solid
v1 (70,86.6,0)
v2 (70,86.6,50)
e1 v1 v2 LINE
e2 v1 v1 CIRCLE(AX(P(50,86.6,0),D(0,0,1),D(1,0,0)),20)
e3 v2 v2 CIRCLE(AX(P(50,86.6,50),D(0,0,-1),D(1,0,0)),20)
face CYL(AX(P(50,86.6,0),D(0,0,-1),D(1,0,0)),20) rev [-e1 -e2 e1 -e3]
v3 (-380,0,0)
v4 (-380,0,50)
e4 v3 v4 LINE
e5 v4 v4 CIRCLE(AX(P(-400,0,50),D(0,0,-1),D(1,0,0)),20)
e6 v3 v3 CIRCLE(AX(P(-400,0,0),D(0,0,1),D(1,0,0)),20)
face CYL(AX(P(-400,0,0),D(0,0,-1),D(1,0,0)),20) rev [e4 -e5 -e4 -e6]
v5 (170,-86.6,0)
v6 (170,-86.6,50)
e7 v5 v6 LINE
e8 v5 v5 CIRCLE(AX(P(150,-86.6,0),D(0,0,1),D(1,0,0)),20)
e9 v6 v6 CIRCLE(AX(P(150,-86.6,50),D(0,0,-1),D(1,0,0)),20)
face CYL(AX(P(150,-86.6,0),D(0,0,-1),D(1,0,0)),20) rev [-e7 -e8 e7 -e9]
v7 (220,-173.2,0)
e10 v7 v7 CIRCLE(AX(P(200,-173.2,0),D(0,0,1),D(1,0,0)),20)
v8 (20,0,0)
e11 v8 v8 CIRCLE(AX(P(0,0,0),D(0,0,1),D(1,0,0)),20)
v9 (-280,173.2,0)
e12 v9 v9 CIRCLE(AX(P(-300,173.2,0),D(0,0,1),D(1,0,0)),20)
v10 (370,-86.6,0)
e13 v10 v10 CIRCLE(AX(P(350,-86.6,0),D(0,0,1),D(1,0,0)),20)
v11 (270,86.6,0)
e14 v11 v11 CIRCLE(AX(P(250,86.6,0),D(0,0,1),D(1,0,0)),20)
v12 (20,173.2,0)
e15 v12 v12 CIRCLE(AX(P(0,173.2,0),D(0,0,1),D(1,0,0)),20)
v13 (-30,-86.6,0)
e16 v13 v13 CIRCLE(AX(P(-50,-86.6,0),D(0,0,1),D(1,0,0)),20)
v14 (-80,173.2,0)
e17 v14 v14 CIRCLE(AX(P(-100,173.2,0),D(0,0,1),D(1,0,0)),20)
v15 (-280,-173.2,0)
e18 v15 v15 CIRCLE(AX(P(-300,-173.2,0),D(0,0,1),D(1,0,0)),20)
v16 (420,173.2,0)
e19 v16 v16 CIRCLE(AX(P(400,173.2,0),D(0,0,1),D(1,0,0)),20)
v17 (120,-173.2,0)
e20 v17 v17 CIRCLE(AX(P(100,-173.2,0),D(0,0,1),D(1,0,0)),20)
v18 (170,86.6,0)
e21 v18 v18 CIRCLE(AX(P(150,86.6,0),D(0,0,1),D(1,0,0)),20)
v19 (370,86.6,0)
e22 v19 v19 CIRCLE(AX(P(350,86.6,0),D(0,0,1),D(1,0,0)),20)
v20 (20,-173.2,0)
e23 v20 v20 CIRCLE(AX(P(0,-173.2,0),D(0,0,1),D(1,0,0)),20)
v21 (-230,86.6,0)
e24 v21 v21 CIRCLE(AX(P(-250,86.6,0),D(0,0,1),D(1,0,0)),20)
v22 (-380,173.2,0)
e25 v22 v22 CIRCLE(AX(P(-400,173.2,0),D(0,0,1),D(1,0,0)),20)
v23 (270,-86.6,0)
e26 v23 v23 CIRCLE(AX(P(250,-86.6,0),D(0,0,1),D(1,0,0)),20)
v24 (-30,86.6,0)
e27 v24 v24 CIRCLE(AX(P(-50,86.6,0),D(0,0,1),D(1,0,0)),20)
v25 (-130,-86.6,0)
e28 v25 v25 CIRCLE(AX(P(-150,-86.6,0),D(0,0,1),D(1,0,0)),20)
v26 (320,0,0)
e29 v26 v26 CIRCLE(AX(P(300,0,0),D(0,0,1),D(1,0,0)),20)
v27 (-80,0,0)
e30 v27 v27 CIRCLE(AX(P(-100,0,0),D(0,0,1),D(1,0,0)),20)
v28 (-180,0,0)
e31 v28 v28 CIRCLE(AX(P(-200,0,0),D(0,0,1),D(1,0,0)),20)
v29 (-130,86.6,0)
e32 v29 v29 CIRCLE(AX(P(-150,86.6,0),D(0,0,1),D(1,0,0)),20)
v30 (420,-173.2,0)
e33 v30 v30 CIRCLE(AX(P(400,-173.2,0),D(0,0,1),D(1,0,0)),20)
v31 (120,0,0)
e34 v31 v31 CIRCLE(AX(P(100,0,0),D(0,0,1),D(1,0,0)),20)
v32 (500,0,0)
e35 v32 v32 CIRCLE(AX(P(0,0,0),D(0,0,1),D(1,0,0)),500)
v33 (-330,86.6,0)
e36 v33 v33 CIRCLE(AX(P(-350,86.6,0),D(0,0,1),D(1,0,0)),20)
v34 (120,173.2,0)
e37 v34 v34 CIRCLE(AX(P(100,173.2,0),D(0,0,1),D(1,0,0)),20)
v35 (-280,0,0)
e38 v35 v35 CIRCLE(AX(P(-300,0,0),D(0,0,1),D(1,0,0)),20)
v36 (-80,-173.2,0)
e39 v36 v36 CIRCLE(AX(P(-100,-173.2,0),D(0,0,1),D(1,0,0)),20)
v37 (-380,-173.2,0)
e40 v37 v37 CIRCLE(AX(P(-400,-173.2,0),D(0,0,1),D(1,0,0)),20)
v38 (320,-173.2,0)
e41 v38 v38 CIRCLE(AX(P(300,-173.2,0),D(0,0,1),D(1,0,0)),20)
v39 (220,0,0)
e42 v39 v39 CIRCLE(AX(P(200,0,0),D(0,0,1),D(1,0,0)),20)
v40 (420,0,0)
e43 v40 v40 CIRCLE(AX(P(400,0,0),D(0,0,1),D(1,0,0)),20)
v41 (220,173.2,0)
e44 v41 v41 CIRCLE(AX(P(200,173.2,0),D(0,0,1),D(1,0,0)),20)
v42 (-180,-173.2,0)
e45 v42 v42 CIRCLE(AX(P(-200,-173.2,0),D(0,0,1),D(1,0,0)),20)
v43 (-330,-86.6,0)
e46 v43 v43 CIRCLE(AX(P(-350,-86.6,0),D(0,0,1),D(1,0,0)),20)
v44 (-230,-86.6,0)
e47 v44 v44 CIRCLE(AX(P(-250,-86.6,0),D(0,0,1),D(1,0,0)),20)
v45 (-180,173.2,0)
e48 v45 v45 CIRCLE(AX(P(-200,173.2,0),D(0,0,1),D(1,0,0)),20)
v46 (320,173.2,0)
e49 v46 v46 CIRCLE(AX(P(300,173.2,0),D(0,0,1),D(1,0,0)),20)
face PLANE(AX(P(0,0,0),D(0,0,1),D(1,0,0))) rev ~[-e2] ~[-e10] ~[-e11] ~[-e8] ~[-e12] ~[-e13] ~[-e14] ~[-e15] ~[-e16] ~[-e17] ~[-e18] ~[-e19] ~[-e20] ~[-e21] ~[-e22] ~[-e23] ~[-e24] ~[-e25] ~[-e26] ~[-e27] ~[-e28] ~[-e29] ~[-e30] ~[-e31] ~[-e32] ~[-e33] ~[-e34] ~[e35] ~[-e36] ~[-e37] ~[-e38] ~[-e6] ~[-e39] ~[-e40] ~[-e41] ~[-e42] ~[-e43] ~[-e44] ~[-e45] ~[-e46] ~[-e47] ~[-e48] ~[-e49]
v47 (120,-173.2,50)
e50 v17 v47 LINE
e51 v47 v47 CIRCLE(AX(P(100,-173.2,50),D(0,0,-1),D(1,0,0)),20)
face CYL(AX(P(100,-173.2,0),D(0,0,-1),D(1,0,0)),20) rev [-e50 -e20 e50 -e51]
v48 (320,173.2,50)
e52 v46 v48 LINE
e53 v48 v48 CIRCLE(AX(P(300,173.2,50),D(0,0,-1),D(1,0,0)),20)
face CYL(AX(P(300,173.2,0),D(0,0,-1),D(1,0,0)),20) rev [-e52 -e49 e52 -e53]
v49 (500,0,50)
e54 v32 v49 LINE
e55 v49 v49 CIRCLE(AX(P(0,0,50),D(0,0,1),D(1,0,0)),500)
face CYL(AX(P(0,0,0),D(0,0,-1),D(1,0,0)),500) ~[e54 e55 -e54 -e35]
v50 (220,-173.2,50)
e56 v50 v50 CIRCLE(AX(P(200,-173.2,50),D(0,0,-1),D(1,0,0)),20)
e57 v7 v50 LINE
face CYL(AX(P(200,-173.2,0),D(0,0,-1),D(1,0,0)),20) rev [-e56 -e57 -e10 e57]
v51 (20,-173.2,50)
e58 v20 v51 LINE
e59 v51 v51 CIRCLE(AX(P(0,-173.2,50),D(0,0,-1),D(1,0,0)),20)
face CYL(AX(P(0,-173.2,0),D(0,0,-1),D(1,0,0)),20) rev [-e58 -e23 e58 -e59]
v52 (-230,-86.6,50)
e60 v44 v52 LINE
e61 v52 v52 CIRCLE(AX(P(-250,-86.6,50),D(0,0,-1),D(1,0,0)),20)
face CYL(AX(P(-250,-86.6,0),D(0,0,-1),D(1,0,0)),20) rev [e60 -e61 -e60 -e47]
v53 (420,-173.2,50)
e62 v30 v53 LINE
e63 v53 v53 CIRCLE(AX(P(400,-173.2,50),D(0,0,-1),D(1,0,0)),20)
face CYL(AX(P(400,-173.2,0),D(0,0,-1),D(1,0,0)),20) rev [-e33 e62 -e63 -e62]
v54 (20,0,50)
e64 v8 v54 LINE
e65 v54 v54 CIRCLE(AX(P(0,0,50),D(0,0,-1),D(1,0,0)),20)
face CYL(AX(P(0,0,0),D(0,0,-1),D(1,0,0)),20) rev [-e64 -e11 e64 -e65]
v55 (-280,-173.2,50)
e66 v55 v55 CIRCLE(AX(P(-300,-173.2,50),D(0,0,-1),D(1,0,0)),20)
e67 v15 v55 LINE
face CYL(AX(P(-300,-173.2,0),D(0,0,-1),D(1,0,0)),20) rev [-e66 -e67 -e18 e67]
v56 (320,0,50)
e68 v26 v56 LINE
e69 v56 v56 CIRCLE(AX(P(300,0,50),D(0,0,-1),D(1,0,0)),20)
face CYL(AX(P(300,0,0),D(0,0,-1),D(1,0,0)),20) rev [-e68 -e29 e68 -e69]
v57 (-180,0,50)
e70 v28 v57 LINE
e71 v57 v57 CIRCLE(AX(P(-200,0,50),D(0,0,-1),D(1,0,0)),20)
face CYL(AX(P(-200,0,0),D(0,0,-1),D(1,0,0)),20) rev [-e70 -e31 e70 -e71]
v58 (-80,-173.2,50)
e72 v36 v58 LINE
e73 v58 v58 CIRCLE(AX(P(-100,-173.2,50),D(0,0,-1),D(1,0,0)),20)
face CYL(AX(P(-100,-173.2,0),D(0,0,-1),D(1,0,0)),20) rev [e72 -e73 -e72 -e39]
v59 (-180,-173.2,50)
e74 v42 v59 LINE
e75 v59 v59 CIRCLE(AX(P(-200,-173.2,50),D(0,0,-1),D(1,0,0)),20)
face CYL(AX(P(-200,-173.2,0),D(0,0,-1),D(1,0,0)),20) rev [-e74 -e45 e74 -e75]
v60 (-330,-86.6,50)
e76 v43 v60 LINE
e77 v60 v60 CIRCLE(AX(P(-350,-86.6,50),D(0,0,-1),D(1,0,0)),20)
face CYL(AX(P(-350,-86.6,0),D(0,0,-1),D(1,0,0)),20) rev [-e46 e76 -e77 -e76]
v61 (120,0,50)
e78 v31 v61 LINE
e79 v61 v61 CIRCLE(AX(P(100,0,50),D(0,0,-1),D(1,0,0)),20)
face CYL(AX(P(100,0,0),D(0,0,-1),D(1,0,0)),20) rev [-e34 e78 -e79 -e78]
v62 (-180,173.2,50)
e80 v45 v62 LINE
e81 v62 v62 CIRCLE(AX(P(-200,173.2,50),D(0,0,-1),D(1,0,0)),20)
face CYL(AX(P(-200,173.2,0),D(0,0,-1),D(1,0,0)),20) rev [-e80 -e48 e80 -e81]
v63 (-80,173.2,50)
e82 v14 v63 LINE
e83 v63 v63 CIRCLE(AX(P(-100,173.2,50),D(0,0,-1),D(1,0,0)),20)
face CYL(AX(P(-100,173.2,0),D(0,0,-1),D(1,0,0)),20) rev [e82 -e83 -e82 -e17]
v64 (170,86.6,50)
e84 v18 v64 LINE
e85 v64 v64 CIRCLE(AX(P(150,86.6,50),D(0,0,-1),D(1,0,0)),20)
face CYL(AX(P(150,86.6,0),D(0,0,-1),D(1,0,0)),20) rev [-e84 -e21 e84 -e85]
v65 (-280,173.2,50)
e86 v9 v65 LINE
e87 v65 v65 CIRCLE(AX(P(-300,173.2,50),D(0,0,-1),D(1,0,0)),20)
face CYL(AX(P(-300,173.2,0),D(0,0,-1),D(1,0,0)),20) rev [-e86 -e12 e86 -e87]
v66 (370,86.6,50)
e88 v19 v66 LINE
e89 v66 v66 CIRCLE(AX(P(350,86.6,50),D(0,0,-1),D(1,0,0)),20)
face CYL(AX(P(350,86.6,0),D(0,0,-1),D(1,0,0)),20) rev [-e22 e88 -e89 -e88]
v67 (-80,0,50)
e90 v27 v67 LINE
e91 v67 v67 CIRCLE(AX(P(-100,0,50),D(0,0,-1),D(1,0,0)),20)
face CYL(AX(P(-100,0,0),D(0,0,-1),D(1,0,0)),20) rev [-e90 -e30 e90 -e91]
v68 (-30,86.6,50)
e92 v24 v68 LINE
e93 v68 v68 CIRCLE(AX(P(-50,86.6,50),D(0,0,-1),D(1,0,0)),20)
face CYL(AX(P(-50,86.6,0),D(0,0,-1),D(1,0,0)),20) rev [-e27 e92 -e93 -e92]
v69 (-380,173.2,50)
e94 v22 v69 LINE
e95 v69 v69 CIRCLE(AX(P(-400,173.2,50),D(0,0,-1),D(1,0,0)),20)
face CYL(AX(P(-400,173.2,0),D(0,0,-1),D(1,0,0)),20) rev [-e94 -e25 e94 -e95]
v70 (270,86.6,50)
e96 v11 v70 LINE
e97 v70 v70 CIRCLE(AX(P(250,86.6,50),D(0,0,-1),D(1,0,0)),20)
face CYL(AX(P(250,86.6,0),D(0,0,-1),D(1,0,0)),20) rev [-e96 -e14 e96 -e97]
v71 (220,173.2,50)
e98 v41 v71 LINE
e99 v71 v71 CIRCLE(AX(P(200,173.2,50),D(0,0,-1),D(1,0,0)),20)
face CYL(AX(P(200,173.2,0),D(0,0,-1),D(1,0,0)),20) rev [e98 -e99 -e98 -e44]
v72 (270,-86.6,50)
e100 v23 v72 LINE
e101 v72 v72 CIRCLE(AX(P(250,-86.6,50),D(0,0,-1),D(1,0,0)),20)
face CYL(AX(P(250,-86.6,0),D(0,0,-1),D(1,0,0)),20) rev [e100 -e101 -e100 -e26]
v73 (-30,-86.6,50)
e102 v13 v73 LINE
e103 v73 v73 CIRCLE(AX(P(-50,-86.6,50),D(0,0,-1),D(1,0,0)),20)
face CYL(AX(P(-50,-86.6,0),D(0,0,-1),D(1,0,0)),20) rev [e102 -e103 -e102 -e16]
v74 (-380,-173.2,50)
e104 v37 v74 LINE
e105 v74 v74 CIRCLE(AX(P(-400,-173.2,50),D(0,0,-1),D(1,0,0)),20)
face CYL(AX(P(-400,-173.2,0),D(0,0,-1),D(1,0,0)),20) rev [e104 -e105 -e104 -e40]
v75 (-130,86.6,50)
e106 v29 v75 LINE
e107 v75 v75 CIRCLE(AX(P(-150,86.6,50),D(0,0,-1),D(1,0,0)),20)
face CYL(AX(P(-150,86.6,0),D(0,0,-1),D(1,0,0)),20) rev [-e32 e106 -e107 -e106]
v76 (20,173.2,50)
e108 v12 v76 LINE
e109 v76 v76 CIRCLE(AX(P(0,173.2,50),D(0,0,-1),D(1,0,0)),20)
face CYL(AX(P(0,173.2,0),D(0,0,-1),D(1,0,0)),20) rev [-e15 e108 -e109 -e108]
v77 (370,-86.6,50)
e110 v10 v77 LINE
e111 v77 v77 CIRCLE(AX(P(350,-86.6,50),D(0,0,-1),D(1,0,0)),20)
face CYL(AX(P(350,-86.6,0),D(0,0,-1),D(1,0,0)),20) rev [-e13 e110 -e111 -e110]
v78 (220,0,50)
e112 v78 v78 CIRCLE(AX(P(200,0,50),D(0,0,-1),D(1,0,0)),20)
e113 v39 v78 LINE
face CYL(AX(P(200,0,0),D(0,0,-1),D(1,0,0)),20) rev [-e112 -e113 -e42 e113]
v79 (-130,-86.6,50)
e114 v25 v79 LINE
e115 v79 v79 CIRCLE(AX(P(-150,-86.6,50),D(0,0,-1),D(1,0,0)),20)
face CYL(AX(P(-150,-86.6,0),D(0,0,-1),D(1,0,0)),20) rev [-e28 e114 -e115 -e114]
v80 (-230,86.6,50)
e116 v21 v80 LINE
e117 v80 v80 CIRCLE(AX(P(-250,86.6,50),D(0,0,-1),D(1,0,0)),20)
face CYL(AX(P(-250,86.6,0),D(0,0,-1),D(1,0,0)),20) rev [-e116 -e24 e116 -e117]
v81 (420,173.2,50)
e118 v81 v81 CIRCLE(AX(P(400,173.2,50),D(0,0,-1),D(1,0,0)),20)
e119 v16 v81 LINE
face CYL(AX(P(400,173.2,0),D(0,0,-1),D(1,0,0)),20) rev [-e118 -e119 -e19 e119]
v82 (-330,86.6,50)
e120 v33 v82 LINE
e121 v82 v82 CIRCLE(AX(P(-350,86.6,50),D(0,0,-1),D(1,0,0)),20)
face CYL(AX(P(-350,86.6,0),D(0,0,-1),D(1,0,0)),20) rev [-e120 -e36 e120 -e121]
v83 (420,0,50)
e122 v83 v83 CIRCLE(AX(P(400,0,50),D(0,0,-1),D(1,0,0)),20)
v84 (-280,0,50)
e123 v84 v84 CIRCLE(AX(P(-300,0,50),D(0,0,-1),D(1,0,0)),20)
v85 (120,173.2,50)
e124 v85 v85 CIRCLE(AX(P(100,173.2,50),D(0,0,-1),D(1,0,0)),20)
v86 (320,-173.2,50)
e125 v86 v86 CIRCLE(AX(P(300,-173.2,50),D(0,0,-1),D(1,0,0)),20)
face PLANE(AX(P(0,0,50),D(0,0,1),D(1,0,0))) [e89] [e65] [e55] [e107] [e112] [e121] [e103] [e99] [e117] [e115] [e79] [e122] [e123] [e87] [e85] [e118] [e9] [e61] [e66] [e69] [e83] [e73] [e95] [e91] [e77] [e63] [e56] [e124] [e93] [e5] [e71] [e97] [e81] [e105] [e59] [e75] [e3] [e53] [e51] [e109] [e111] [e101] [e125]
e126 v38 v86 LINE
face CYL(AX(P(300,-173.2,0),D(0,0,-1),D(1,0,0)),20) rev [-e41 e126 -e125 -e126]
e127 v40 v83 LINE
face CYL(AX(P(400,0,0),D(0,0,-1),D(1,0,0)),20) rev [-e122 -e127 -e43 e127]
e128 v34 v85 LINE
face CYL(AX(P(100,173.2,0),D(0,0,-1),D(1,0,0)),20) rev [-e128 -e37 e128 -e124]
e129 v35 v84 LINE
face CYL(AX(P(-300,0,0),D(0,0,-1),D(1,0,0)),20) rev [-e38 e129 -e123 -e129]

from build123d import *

# Parameters (mm, degrees)
SKETCH_1_R           = 500
EXTRUDE_1_DEPTH      = 50
SKETCH_2_R           = 20
CUT_EXTRUDE_1_DEPTH  = 709.872343938
SKETCH_3_R           = 20
CUT_EXTRUDE_2_DEPTH  = 709.872343938
SKETCH_4_R           = 20
CUT_EXTRUDE_3_DEPTH  = 709.872343938
SKETCH_5_R           = 20
CUT_EXTRUDE_4_DEPTH  = 709.872343938
SKETCH_6_R           = 20
CUT_EXTRUDE_5_DEPTH  = 709.872343938
SKETCH_7_R           = 20
CUT_EXTRUDE_6_DEPTH  = 709.872343938
SKETCH_8_R           = 20
CUT_EXTRUDE_7_DEPTH  = 709.872343938
SKETCH_9_R           = 20
CUT_EXTRUDE_8_DEPTH  = 709.872343938
SKETCH_10_R          = 20
CUT_EXTRUDE_9_DEPTH  = 709.872343938
SKETCH_11_R          = 20
CUT_EXTRUDE_10_DEPTH = 709.872343938
SKETCH_12_R          = 20
CUT_EXTRUDE_11_DEPTH = 709.872343938
SKETCH_13_R          = 20
CUT_EXTRUDE_12_DEPTH = 709.872343938
SKETCH_14_R          = 20
CUT_EXTRUDE_13_DEPTH = 709.872343938
SKETCH_15_R          = 20
CUT_EXTRUDE_14_DEPTH = 709.872343938
SKETCH_16_R          = 20
CUT_EXTRUDE_15_DEPTH = 709.872343938
SKETCH_17_R          = 20
CUT_EXTRUDE_16_DEPTH = 709.872343938
SKETCH_18_R          = 20
CUT_EXTRUDE_17_DEPTH = 709.872343938
SKETCH_19_R          = 20
CUT_EXTRUDE_18_DEPTH = 709.872343938
SKETCH_20_R          = 20
CUT_EXTRUDE_19_DEPTH = 709.872343938
SKETCH_21_R          = 20
CUT_EXTRUDE_20_DEPTH = 709.872343938
SKETCH_22_R          = 20
CUT_EXTRUDE_21_DEPTH = 709.872343938
SKETCH_23_R          = 20
CUT_EXTRUDE_22_DEPTH = 709.872343938
SKETCH_24_R          = 20
CUT_EXTRUDE_23_DEPTH = 709.872343938
SKETCH_25_R          = 20
CUT_EXTRUDE_24_DEPTH = 709.872343938
SKETCH_26_R          = 20
CUT_EXTRUDE_25_DEPTH = 709.872343938
SKETCH_27_R          = 20
CUT_EXTRUDE_26_DEPTH = 709.872343938
SKETCH_28_R          = 20
CUT_EXTRUDE_27_DEPTH = 709.872343938
SKETCH_29_R          = 20
CUT_EXTRUDE_28_DEPTH = 709.872343938
SKETCH_30_R          = 20
CUT_EXTRUDE_29_DEPTH = 709.872343938
SKETCH_31_R          = 20
CUT_EXTRUDE_30_DEPTH = 709.872343938
SKETCH_32_R          = 20
CUT_EXTRUDE_31_DEPTH = 709.872343938
SKETCH_33_R          = 20
CUT_EXTRUDE_32_DEPTH = 709.872343938
SKETCH_34_R          = 20
CUT_EXTRUDE_33_DEPTH = 709.872343938
SKETCH_35_R          = 20
CUT_EXTRUDE_34_DEPTH = 709.872343938
SKETCH_36_R          = 20
CUT_EXTRUDE_35_DEPTH = 709.872343938
SKETCH_37_R          = 20
CUT_EXTRUDE_36_DEPTH = 709.872343938
SKETCH_38_R          = 20
CUT_EXTRUDE_37_DEPTH = 709.872343938
SKETCH_39_R          = 20
CUT_EXTRUDE_38_DEPTH = 709.872343938
SKETCH_40_R          = 20
CUT_EXTRUDE_39_DEPTH = 709.872343938
SKETCH_41_R          = 20
CUT_EXTRUDE_40_DEPTH = 709.872343938
SKETCH_42_R          = 20
CUT_EXTRUDE_41_DEPTH = 709.872343938
SKETCH_43_R          = 20
CUT_EXTRUDE_42_DEPTH = 709.872343938


with BuildPart() as part:
    # 草图1 → 凸台-拉伸1 (new body)
    with BuildSketch(Plane.XY):
        Circle(SKETCH_1_R)
    extrude(amount=EXTRUDE_1_DEPTH)

    # 草图2 → 切除-拉伸1 (cut, through all)
    with BuildSketch(Plane.XY):
        with Locations((-400, 0)):
            Circle(SKETCH_2_R)
    extrude(amount=CUT_EXTRUDE_1_DEPTH, mode=Mode.SUBTRACT)

    # 草图3 → 切除-拉伸2 (cut, through all)
    with BuildSketch(Plane.XY):
        with Locations((-300, 0)):
            Circle(SKETCH_3_R)
    extrude(amount=CUT_EXTRUDE_2_DEPTH, mode=Mode.SUBTRACT)

    # 草图4 → 切除-拉伸3 (cut, through all)
    with BuildSketch(Plane.XY):
        with Locations((-200, 0)):
            Circle(SKETCH_4_R)
    extrude(amount=CUT_EXTRUDE_3_DEPTH, mode=Mode.SUBTRACT)

    # 草图5 → 切除-拉伸4 (cut, through all)
    with BuildSketch(Plane.XY):
        with Locations((-100, 0)):
            Circle(SKETCH_5_R)
    extrude(amount=CUT_EXTRUDE_4_DEPTH, mode=Mode.SUBTRACT)

    # 草图6 → 切除-拉伸5 (cut, through all)
    with BuildSketch(Plane.XY):
        Circle(SKETCH_6_R)
    extrude(amount=CUT_EXTRUDE_5_DEPTH, mode=Mode.SUBTRACT)

    # 草图7 → 切除-拉伸6 (cut, through all)
    with BuildSketch(Plane.XY):
        with Locations((100, 0)):
            Circle(SKETCH_7_R)
    extrude(amount=CUT_EXTRUDE_6_DEPTH, mode=Mode.SUBTRACT)

    # 草图8 → 切除-拉伸7 (cut, through all)
    with BuildSketch(Plane.XY):
        with Locations((200, 0)):
            Circle(SKETCH_8_R)
    extrude(amount=CUT_EXTRUDE_7_DEPTH, mode=Mode.SUBTRACT)

    # 草图9 → 切除-拉伸8 (cut, through all)
    with BuildSketch(Plane.XY):
        with Locations((300, 0)):
            Circle(SKETCH_9_R)
    extrude(amount=CUT_EXTRUDE_8_DEPTH, mode=Mode.SUBTRACT)

    # 草图10 → 切除-拉伸9 (cut, through all)
    with BuildSketch(Plane.XY):
        with Locations((400, 0)):
            Circle(SKETCH_10_R)
    extrude(amount=CUT_EXTRUDE_9_DEPTH, mode=Mode.SUBTRACT)

    # 草图11 → 切除-拉伸10 (cut, through all)
    with BuildSketch(Plane.XY):
        with Locations((-350, 86.6)):
            Circle(SKETCH_11_R)
    extrude(amount=CUT_EXTRUDE_10_DEPTH, mode=Mode.SUBTRACT)

    # 草图12 → 切除-拉伸11 (cut, through all)
    with BuildSketch(Plane.XY):
        with Locations((-250, 86.6)):
            Circle(SKETCH_12_R)
    extrude(amount=CUT_EXTRUDE_11_DEPTH, mode=Mode.SUBTRACT)

    # 草图13 → 切除-拉伸12 (cut, through all)
    with BuildSketch(Plane.XY):
        with Locations((-150, 86.6)):
            Circle(SKETCH_13_R)
    extrude(amount=CUT_EXTRUDE_12_DEPTH, mode=Mode.SUBTRACT)

    # 草图14 → 切除-拉伸13 (cut, through all)
    with BuildSketch(Plane.XY):
        with Locations((-50, 86.6)):
            Circle(SKETCH_14_R)
    extrude(amount=CUT_EXTRUDE_13_DEPTH, mode=Mode.SUBTRACT)

    # 草图15 → 切除-拉伸14 (cut, through all)
    with BuildSketch(Plane.XY):
        with Locations((50, 86.6)):
            Circle(SKETCH_15_R)
    extrude(amount=CUT_EXTRUDE_14_DEPTH, mode=Mode.SUBTRACT)

    # 草图16 → 切除-拉伸15 (cut, through all)
    with BuildSketch(Plane.XY):
        with Locations((150, 86.6)):
            Circle(SKETCH_16_R)
    extrude(amount=CUT_EXTRUDE_15_DEPTH, mode=Mode.SUBTRACT)

    # 草图17 → 切除-拉伸16 (cut, through all)
    with BuildSketch(Plane.XY):
        with Locations((250, 86.6)):
            Circle(SKETCH_17_R)
    extrude(amount=CUT_EXTRUDE_16_DEPTH, mode=Mode.SUBTRACT)

    # 草图18 → 切除-拉伸17 (cut, through all)
    with BuildSketch(Plane.XY):
        with Locations((350, 86.6)):
            Circle(SKETCH_18_R)
    extrude(amount=CUT_EXTRUDE_17_DEPTH, mode=Mode.SUBTRACT)

    # 草图19 → 切除-拉伸18 (cut, through all)
    with BuildSketch(Plane.XY):
        with Locations((-400, 173.2)):
            Circle(SKETCH_19_R)
    extrude(amount=CUT_EXTRUDE_18_DEPTH, mode=Mode.SUBTRACT)

    # 草图20 → 切除-拉伸19 (cut, through all)
    with BuildSketch(Plane.XY):
        with Locations((-300, 173.2)):
            Circle(SKETCH_20_R)
    extrude(amount=CUT_EXTRUDE_19_DEPTH, mode=Mode.SUBTRACT)

    # 草图21 → 切除-拉伸20 (cut, through all)
    with BuildSketch(Plane.XY):
        with Locations((-200, 173.2)):
            Circle(SKETCH_21_R)
    extrude(amount=CUT_EXTRUDE_20_DEPTH, mode=Mode.SUBTRACT)

    # 草图22 → 切除-拉伸21 (cut, through all)
    with BuildSketch(Plane.XY):
        with Locations((-100, 173.2)):
            Circle(SKETCH_22_R)
    extrude(amount=CUT_EXTRUDE_21_DEPTH, mode=Mode.SUBTRACT)

    # 草图23 → 切除-拉伸22 (cut, through all)
    with BuildSketch(Plane.XY):
        with Locations((0, 173.2)):
            Circle(SKETCH_23_R)
    extrude(amount=CUT_EXTRUDE_22_DEPTH, mode=Mode.SUBTRACT)

    # 草图24 → 切除-拉伸23 (cut, through all)
    with BuildSketch(Plane.XY):
        with Locations((100, 173.2)):
            Circle(SKETCH_24_R)
    extrude(amount=CUT_EXTRUDE_23_DEPTH, mode=Mode.SUBTRACT)

    # 草图25 → 切除-拉伸24 (cut, through all)
    with BuildSketch(Plane.XY):
        with Locations((200, 173.2)):
            Circle(SKETCH_25_R)
    extrude(amount=CUT_EXTRUDE_24_DEPTH, mode=Mode.SUBTRACT)

    # 草图26 → 切除-拉伸25 (cut, through all)
    with BuildSketch(Plane.XY):
        with Locations((300, 173.2)):
            Circle(SKETCH_26_R)
    extrude(amount=CUT_EXTRUDE_25_DEPTH, mode=Mode.SUBTRACT)

    # 草图27 → 切除-拉伸26 (cut, through all)
    with BuildSketch(Plane.XY):
        with Locations((400, 173.2)):
            Circle(SKETCH_27_R)
    extrude(amount=CUT_EXTRUDE_26_DEPTH, mode=Mode.SUBTRACT)

    # 草图28 → 切除-拉伸27 (cut, through all)
    with BuildSketch(Plane.XY):
        with Locations((-350, -86.6)):
            Circle(SKETCH_28_R)
    extrude(amount=CUT_EXTRUDE_27_DEPTH, mode=Mode.SUBTRACT)

    # 草图29 → 切除-拉伸28 (cut, through all)
    with BuildSketch(Plane.XY):
        with Locations((-250, -86.6)):
            Circle(SKETCH_29_R)
    extrude(amount=CUT_EXTRUDE_28_DEPTH, mode=Mode.SUBTRACT)

    # 草图30 → 切除-拉伸29 (cut, through all)
    with BuildSketch(Plane.XY):
        with Locations((-150, -86.6)):
            Circle(SKETCH_30_R)
    extrude(amount=CUT_EXTRUDE_29_DEPTH, mode=Mode.SUBTRACT)

    # 草图31 → 切除-拉伸30 (cut, through all)
    with BuildSketch(Plane.XY):
        with Locations((-50, -86.6)):
            Circle(SKETCH_31_R)
    extrude(amount=CUT_EXTRUDE_30_DEPTH, mode=Mode.SUBTRACT)

    # 草图32 → 切除-拉伸31 (cut, through all)
    with BuildSketch(Plane.XY):
        with Locations((150, -86.6)):
            Circle(SKETCH_32_R)
    extrude(amount=CUT_EXTRUDE_31_DEPTH, mode=Mode.SUBTRACT)

    # 草图33 → 切除-拉伸32 (cut, through all)
    with BuildSketch(Plane.XY):
        with Locations((250, -86.6)):
            Circle(SKETCH_33_R)
    extrude(amount=CUT_EXTRUDE_32_DEPTH, mode=Mode.SUBTRACT)

    # 草图34 → 切除-拉伸33 (cut, through all)
    with BuildSketch(Plane.XY):
        with Locations((350, -86.6)):
            Circle(SKETCH_34_R)
    extrude(amount=CUT_EXTRUDE_33_DEPTH, mode=Mode.SUBTRACT)

    # 草图35 → 切除-拉伸34 (cut, through all)
    with BuildSketch(Plane.XY):
        with Locations((-400, -173.2)):
            Circle(SKETCH_35_R)
    extrude(amount=CUT_EXTRUDE_34_DEPTH, mode=Mode.SUBTRACT)

    # 草图36 → 切除-拉伸35 (cut, through all)
    with BuildSketch(Plane.XY):
        with Locations((-300, -173.2)):
            Circle(SKETCH_36_R)
    extrude(amount=CUT_EXTRUDE_35_DEPTH, mode=Mode.SUBTRACT)

    # 草图37 → 切除-拉伸36 (cut, through all)
    with BuildSketch(Plane.XY):
        with Locations((-200, -173.2)):
            Circle(SKETCH_37_R)
    extrude(amount=CUT_EXTRUDE_36_DEPTH, mode=Mode.SUBTRACT)

    # 草图38 → 切除-拉伸37 (cut, through all)
    with BuildSketch(Plane.XY):
        with Locations((-100, -173.2)):
            Circle(SKETCH_38_R)
    extrude(amount=CUT_EXTRUDE_37_DEPTH, mode=Mode.SUBTRACT)

    # 草图39 → 切除-拉伸38 (cut, through all)
    with BuildSketch(Plane.XY):
        with Locations((0, -173.2)):
            Circle(SKETCH_39_R)
    extrude(amount=CUT_EXTRUDE_38_DEPTH, mode=Mode.SUBTRACT)

    # 草图40 → 切除-拉伸39 (cut, through all)
    with BuildSketch(Plane.XY):
        with Locations((100, -173.2)):
            Circle(SKETCH_40_R)
    extrude(amount=CUT_EXTRUDE_39_DEPTH, mode=Mode.SUBTRACT)

    # 草图41 → 切除-拉伸40 (cut, through all)
    with BuildSketch(Plane.XY):
        with Locations((200, -173.2)):
            Circle(SKETCH_41_R)
    extrude(amount=CUT_EXTRUDE_40_DEPTH, mode=Mode.SUBTRACT)

    # 草图42 → 切除-拉伸41 (cut, through all)
    with BuildSketch(Plane.XY):
        with Locations((300, -173.2)):
            Circle(SKETCH_42_R)
    extrude(amount=CUT_EXTRUDE_41_DEPTH, mode=Mode.SUBTRACT)

    # 草图43 → 切除-拉伸42 (cut, through all)
    with BuildSketch(Plane.XY):
        with Locations((400, -173.2)):
            Circle(SKETCH_43_R)
    extrude(amount=CUT_EXTRUDE_42_DEPTH, mode=Mode.SUBTRACT)


solid = part.part
